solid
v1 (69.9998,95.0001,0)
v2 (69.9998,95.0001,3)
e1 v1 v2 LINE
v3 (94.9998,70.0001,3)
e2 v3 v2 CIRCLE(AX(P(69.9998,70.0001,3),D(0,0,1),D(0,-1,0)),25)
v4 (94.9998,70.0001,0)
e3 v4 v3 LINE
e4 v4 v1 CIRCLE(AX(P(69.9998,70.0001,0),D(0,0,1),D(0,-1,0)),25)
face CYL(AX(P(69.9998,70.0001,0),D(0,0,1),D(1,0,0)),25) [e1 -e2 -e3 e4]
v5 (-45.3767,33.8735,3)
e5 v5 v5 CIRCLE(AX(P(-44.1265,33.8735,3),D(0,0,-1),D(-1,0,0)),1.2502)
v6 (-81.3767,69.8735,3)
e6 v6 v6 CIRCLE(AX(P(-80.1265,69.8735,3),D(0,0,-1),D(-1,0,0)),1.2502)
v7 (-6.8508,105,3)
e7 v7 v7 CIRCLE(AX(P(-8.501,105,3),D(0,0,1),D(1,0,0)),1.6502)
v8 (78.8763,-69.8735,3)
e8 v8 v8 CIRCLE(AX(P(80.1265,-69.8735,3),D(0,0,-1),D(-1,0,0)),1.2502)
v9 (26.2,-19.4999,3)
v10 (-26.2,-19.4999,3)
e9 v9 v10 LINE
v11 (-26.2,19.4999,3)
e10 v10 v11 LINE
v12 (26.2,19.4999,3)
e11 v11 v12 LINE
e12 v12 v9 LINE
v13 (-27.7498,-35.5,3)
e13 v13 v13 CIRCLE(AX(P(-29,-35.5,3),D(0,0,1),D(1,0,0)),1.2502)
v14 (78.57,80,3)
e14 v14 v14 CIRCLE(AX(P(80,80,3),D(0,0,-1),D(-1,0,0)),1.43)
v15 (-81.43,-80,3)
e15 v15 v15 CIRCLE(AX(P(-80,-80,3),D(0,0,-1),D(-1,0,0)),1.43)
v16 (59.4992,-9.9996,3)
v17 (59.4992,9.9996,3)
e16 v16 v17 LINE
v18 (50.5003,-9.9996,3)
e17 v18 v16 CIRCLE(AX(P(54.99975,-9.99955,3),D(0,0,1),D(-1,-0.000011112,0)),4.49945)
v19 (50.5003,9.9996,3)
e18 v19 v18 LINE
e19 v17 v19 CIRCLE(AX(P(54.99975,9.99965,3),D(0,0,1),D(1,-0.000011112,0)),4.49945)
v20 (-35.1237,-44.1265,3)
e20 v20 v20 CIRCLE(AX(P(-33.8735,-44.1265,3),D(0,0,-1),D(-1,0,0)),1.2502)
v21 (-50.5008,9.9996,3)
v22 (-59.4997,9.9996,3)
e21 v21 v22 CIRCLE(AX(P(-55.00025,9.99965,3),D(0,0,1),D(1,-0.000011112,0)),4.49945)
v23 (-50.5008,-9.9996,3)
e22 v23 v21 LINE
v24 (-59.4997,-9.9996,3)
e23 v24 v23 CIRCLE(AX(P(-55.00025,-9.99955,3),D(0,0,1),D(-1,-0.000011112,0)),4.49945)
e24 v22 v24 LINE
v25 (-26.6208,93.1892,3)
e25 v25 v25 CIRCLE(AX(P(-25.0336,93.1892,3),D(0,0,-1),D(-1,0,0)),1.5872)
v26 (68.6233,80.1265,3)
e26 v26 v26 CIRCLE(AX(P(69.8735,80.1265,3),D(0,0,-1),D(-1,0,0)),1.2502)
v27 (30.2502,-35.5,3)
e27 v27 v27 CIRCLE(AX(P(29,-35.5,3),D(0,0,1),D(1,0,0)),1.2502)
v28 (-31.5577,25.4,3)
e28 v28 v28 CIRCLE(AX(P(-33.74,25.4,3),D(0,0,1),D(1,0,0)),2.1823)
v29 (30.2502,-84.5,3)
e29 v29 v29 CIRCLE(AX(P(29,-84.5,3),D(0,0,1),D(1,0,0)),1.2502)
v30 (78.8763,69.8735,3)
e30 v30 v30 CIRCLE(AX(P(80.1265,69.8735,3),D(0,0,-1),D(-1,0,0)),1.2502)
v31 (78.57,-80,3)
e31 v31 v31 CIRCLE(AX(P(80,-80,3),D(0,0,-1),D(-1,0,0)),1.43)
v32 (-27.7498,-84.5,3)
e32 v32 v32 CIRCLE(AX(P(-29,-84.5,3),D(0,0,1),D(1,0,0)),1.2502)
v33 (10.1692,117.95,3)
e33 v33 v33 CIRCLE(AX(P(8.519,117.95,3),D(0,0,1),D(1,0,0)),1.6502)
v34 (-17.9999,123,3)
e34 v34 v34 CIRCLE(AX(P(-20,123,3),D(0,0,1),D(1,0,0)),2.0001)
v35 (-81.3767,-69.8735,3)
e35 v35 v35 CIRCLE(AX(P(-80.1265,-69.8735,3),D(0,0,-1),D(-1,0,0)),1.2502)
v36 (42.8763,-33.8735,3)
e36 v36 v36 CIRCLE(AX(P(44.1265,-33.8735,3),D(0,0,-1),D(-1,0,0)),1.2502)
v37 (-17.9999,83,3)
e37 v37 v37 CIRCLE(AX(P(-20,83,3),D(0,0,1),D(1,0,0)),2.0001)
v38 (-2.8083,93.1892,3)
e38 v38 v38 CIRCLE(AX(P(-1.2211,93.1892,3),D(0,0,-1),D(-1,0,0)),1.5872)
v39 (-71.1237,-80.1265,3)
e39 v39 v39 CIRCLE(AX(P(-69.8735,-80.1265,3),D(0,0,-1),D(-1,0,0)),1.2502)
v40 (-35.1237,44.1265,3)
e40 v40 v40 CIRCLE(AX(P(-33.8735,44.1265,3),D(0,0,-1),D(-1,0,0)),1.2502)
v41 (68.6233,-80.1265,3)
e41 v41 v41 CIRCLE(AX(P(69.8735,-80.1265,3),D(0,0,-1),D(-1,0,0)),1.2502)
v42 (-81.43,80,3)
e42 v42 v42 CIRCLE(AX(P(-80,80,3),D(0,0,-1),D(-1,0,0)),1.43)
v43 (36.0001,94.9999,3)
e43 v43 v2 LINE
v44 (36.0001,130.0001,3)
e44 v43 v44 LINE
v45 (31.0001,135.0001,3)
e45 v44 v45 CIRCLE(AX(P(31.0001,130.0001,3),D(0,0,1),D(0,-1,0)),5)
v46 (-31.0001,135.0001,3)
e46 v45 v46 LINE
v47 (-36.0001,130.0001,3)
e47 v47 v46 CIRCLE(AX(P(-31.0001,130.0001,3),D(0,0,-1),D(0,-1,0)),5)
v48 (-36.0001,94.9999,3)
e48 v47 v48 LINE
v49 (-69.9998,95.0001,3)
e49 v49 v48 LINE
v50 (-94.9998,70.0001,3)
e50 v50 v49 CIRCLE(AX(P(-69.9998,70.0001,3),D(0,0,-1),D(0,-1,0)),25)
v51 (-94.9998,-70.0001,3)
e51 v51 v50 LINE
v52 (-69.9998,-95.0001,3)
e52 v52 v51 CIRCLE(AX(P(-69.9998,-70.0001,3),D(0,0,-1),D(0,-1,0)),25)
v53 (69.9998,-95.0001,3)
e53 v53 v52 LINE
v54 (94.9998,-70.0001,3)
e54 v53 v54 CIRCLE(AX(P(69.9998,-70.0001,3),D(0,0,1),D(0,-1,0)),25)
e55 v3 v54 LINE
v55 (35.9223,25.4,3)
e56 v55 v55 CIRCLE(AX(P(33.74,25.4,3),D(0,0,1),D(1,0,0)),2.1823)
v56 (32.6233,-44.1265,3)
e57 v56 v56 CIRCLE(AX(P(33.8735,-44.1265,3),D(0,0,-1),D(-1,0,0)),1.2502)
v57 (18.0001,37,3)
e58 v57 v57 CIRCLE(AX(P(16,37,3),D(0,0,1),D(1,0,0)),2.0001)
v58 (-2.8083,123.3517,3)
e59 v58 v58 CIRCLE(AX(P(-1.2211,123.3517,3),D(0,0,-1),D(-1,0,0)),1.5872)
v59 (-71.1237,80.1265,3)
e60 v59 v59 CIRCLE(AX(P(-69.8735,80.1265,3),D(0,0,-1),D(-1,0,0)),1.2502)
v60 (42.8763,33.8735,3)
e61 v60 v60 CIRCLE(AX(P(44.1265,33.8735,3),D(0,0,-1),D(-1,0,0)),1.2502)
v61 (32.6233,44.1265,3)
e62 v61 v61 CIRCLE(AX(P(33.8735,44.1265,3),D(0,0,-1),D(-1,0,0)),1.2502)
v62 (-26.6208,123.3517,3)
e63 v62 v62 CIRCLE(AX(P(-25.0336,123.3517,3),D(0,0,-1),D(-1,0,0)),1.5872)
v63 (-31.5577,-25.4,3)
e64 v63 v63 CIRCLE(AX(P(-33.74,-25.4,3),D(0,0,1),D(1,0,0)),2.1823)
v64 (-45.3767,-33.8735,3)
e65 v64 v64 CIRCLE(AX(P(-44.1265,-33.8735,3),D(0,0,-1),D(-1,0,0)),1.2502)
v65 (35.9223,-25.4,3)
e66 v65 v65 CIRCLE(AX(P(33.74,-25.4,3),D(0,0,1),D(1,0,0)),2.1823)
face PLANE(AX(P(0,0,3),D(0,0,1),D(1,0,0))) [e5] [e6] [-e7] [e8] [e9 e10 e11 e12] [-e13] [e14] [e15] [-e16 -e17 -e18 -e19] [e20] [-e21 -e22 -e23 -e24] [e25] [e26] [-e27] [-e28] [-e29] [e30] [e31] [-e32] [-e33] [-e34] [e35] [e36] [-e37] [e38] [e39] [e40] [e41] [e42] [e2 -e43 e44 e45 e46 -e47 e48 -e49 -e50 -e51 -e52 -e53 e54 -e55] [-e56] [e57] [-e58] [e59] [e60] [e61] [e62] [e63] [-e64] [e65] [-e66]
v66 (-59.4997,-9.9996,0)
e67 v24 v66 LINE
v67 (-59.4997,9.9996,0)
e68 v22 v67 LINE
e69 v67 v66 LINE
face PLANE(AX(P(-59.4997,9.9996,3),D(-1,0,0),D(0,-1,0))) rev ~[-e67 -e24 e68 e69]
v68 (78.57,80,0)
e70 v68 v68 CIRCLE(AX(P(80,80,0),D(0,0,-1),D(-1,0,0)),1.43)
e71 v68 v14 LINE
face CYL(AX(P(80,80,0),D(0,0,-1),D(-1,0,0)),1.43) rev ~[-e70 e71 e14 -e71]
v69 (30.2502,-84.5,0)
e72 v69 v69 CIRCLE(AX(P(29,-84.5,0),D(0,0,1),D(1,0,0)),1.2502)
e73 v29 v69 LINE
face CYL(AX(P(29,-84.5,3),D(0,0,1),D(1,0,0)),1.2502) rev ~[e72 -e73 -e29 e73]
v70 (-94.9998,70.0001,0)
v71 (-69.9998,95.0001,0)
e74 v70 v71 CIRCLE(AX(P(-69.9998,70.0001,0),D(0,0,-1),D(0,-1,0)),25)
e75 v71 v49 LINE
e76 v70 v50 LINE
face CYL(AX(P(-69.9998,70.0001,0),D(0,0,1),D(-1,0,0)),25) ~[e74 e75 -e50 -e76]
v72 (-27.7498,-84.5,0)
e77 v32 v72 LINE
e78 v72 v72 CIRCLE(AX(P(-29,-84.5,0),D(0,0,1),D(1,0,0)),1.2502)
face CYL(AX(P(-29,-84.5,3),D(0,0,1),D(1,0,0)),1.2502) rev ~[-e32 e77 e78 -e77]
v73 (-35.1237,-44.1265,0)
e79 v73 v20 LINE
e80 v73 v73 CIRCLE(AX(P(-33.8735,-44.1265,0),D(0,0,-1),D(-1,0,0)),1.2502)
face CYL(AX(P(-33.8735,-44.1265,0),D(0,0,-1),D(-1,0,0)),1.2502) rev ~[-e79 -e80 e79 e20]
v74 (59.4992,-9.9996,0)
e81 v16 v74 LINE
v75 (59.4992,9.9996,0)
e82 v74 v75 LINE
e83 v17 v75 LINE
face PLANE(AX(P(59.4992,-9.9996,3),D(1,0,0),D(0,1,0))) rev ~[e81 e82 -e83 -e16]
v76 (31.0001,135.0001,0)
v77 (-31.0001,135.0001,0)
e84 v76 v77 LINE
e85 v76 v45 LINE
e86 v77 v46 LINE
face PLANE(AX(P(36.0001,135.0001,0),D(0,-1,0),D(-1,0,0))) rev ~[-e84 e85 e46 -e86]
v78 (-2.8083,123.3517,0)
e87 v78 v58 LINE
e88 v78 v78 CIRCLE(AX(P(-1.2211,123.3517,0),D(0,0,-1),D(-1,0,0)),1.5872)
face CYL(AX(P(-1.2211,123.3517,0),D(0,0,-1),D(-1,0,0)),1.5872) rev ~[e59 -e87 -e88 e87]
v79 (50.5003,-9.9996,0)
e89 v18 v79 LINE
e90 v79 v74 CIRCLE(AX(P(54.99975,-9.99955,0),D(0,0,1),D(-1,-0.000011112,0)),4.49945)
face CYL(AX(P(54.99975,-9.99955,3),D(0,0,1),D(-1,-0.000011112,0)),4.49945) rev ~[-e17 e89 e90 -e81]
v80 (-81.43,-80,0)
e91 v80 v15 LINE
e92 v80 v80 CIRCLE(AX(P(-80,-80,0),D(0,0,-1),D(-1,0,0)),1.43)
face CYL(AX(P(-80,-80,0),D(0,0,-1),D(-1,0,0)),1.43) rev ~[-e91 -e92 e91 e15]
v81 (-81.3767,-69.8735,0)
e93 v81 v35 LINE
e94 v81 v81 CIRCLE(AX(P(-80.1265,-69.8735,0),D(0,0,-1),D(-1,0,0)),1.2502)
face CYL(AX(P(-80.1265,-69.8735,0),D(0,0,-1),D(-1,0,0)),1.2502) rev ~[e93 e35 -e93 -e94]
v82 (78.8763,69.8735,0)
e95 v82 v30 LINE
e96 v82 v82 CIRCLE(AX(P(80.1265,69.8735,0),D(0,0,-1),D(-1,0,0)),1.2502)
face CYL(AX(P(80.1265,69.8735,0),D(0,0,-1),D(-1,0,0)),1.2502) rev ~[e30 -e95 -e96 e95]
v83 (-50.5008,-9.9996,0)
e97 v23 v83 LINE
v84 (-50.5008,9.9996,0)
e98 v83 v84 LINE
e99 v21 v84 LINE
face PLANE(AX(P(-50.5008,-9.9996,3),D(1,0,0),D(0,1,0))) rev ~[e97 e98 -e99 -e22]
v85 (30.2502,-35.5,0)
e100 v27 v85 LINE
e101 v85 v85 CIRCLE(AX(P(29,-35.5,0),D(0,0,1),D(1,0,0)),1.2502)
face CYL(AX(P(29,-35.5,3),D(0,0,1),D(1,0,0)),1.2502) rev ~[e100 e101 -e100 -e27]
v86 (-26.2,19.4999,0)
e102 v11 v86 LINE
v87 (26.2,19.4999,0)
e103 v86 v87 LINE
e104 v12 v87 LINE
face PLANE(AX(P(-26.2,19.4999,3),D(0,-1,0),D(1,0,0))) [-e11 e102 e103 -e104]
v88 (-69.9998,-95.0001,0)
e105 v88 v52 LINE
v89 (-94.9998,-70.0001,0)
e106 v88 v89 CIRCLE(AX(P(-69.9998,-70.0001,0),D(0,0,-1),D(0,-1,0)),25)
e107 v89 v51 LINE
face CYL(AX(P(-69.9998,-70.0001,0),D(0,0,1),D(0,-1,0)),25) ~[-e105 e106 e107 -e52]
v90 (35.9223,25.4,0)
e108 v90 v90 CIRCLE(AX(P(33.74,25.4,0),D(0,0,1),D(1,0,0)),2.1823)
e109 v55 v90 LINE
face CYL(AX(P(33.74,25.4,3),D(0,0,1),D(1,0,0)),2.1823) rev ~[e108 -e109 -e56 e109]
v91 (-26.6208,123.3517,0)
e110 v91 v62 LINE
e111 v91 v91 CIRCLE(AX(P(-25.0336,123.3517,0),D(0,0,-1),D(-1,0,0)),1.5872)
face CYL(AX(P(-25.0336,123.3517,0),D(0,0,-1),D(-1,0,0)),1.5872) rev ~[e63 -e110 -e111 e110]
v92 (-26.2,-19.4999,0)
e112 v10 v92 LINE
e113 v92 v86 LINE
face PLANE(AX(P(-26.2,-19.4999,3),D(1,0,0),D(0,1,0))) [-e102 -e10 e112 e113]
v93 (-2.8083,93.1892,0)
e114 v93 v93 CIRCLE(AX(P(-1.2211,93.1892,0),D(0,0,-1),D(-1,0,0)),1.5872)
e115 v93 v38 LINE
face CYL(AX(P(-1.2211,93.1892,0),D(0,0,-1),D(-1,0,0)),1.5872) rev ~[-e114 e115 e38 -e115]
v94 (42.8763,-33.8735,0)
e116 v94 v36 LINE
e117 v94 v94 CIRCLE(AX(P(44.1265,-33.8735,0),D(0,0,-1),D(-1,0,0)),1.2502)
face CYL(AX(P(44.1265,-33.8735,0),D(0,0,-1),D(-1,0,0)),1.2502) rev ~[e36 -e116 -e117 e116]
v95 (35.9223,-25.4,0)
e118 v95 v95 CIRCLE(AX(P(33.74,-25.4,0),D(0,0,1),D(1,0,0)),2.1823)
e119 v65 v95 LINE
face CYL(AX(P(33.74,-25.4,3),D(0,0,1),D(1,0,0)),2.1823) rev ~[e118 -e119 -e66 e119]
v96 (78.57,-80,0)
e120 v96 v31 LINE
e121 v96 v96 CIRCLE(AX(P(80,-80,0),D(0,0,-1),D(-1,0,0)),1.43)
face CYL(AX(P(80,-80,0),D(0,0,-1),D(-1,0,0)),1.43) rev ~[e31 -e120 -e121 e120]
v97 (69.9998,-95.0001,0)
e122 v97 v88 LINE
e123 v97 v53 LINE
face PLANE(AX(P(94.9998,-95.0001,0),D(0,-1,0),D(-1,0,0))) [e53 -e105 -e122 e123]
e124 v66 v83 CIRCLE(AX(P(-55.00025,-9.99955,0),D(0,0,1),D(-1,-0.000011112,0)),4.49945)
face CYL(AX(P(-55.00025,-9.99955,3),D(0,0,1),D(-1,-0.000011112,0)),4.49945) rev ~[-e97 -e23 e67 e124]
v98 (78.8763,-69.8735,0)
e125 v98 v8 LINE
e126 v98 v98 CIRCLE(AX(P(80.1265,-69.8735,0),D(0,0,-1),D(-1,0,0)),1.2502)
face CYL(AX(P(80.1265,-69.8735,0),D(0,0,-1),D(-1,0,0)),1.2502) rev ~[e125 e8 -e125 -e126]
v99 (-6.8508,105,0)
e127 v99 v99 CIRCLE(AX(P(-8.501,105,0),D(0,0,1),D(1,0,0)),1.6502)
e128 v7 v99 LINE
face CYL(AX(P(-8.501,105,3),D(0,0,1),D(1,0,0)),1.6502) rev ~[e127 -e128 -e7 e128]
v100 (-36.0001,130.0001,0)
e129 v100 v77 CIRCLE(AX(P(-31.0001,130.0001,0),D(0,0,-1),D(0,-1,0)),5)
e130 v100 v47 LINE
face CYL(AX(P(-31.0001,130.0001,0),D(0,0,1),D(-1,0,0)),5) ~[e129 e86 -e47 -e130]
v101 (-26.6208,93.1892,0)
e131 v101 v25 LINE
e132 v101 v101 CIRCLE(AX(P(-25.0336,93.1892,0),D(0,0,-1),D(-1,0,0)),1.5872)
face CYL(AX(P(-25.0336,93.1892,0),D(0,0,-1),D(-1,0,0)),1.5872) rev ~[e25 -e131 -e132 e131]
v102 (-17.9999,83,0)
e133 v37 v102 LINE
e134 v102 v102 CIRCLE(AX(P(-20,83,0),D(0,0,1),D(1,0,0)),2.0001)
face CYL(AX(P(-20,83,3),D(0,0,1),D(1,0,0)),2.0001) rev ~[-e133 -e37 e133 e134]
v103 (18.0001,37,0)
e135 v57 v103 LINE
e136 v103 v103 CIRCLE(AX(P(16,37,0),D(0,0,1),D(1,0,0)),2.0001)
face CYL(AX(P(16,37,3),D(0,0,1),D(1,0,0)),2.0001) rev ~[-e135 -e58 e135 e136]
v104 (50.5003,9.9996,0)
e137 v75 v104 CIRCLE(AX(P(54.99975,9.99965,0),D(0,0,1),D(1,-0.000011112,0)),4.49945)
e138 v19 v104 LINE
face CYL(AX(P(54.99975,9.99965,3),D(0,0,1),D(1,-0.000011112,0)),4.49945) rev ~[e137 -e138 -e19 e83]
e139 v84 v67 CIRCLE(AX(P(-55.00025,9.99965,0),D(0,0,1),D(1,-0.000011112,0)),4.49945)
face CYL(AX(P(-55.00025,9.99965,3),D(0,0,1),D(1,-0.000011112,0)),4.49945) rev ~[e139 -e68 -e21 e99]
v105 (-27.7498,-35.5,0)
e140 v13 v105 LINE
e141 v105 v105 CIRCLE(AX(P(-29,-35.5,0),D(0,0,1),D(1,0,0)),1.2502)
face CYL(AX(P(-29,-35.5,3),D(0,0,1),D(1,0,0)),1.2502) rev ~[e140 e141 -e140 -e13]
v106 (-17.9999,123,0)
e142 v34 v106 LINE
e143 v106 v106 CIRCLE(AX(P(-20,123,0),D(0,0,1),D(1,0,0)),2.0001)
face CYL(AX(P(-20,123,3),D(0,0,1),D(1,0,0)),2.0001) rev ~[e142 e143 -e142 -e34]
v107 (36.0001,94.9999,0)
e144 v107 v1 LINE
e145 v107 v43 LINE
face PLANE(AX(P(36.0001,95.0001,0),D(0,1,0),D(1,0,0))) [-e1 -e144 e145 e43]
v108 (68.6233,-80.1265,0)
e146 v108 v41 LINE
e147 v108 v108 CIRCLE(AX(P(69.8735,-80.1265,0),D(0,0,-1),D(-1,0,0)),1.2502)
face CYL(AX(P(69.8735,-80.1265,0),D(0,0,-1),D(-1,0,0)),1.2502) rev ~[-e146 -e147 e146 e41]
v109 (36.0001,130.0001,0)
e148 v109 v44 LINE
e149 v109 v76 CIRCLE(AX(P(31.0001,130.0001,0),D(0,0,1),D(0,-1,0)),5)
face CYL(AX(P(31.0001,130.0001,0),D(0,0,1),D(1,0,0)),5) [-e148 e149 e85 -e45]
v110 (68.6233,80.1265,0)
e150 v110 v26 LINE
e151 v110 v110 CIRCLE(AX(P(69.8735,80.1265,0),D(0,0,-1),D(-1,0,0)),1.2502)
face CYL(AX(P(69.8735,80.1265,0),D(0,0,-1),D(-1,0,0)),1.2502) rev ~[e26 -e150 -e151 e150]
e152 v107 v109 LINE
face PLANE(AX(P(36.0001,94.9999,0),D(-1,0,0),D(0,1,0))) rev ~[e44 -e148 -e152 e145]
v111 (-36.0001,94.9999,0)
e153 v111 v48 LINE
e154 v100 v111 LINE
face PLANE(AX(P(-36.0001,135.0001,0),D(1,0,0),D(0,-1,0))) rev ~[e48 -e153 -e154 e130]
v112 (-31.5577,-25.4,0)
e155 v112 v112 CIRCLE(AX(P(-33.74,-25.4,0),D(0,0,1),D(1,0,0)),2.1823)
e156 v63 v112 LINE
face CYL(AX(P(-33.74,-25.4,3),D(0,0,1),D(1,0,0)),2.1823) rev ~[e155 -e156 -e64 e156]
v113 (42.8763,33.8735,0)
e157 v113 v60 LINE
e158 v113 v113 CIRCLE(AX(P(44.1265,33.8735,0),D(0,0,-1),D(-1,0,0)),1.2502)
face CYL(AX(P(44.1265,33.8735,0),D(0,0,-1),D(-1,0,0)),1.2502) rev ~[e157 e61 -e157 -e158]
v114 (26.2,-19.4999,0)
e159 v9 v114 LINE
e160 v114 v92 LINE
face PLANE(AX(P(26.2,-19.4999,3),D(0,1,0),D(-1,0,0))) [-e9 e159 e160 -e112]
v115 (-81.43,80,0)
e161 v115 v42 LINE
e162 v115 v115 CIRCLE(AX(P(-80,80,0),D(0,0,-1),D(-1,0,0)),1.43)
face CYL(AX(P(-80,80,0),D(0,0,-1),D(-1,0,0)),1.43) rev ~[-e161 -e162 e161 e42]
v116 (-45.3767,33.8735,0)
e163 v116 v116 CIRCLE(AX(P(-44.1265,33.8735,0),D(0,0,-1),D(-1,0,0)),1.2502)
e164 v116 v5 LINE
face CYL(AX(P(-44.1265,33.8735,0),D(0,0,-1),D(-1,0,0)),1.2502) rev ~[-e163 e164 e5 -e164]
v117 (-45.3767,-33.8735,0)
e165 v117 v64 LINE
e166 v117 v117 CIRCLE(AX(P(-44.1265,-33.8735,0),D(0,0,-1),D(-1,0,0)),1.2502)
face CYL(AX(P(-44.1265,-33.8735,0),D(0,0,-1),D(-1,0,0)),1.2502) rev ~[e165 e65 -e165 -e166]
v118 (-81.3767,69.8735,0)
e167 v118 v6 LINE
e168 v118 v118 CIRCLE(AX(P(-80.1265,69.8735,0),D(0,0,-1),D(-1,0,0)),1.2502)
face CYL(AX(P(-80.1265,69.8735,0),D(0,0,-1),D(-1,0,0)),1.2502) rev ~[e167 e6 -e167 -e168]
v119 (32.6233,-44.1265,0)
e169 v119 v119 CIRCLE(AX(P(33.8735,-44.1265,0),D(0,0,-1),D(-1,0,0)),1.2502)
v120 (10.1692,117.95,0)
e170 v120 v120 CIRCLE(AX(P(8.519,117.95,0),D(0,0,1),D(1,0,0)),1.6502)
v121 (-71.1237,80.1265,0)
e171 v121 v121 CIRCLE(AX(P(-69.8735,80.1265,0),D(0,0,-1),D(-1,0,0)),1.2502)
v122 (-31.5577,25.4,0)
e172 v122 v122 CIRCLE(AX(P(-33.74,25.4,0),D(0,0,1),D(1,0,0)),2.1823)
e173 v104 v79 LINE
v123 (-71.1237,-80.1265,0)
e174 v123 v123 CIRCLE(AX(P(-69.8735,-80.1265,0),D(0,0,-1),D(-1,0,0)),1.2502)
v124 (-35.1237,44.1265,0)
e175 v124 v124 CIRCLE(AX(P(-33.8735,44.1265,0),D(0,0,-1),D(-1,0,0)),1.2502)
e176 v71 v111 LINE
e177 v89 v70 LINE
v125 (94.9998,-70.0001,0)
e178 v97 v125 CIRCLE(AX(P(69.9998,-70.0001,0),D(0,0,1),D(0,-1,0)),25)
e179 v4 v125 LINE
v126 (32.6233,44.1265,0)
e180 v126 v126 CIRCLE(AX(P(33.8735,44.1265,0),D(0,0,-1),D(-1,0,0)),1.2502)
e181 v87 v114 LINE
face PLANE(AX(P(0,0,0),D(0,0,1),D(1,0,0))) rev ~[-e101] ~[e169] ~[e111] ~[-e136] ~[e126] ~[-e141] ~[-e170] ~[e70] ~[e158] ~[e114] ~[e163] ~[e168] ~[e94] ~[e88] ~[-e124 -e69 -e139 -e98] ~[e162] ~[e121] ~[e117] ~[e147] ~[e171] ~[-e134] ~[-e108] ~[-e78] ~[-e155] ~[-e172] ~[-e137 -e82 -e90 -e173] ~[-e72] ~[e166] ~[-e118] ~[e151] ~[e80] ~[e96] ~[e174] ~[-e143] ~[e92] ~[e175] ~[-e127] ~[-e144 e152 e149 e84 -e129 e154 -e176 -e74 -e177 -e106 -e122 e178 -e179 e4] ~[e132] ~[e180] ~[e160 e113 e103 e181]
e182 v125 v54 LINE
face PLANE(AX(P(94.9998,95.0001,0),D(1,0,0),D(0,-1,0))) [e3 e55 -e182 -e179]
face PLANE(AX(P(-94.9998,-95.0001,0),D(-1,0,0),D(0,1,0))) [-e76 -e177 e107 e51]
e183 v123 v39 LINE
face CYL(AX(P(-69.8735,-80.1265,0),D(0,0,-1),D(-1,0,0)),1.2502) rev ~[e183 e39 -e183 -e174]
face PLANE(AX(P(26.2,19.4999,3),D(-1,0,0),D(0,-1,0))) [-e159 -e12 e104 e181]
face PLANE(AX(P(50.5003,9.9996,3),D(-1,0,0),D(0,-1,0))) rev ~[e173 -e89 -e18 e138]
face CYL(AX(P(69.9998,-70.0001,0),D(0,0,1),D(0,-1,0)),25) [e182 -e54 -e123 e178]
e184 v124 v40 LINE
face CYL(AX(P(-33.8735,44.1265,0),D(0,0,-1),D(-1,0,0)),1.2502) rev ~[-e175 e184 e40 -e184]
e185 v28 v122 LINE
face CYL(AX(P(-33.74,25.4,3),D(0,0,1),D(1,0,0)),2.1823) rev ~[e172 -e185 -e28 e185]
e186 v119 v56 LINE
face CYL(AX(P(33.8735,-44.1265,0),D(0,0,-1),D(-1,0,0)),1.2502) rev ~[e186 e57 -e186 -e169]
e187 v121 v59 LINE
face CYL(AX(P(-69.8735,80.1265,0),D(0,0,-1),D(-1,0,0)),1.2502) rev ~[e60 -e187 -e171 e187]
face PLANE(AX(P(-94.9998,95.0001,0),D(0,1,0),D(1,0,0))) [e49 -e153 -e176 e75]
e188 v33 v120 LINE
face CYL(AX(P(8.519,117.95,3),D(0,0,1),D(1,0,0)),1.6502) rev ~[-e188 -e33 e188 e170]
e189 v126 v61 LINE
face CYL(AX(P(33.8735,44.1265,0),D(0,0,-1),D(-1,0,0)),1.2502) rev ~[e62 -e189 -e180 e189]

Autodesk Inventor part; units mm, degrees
ref_plane "YZ Plane" through (0, 0, 0) normal (1, 0, 0) x (0, 1, 0)
ref_plane "XZ Plane" through (0, 0, 0) normal (0, 1, 0) x (-1, 0, 0)
ref_plane "XY Plane" through (0, 0, 0) normal (0, 0, 1) x (1, 0, 0)
sketch "Sketch1" plane through (0, 0, 0) normal (0, 0, 1) x (1, 0, 0)
  point P0 (0, 0)
sketch "Sketch2" plane through (0, 0, 0) normal (0, 0, 1) x (1, 0, 0)
  line L0 (94.9998, -95.0001) -> (-94.9998, -95.0001)
  line L1 (-94.9998, -95.0001) -> (-94.9998, 95.0001)
  line L2 (-94.9998, 95.0001) -> (94.9998, 95.0001)
  line L3 (94.9998, 95.0001) -> (94.9998, -95.0001)
  line L4 (94.9998, -95.0001) -> (-94.9998, 95.0001) construction
  line L5 (-94.9998, -95.0001) -> (94.9998, 95.0001) construction
  line L6 (-36.0001, 94.9999) -> (36.0001, 94.9999)
  line L7 (36.0001, 94.9999) -> (36.0001, 135.0001)
  line L8 (36.0001, 135.0001) -> (-36.0001, 135.0001)
  line L9 (-36.0001, 135.0001) -> (-36.0001, 94.9999)
  line L10 (-36.0001, 94.9999) -> (36.0001, 135.0001) construction
  line L11 (36.0001, 94.9999) -> (-36.0001, 135.0001) construction
  point P0 (0, 115)
  point P1 (-36.0001, 95.0001)
  point P2 (36.0001, 95.0001)
extrude "Extrusion1" add sketch "Sketch2" along normal blind 3
fillet "Fillet5" radius 25 4 edges at (-94.9998, 95.0001, 1.5) (94.9998, 95.0001, 1.5) (-94.9998, -95.0001, 1.5) (94.9998, -95.0001, 1.5)
fillet "Fillet6" radius 5 2 edges at (-36.0001, 135.0001, 1.5) (36.0001, 135.0001, 1.5)
sketch "Large Hammond mount holes" plane through (0, 0, 3) normal (0, 0, 1) x (1, 0, 0)
  circle A0 centre (16, 37) radius 2.0001
  circle A1 centre (-20, 123) radius 2.0001
  circle A2 centre (-20, 83) radius 2.0001
  circle A3 centre (16, 37) radius 2.0001
  circle A4 centre (-20, 123) radius 2.0001
  circle A5 centre (-20, 83) radius 2.0001
sketch "PX4FLOW mount holes" plane through (0, 0, 0) normal (0, 0, -1) x (-1, 0, 0)
  circle A0 centre (25.0336, 123.3517) radius 1.5872
  circle A1 centre (1.2211, 123.3517) radius 1.5872
  circle A2 centre (1.2211, 123.3517) radius 1.5872
  circle A3 centre (1.2211, 93.1892) radius 1.5872
  circle A4 centre (25.0336, 93.1892) radius 1.5872
sketch "Imperial standoffs" plane through (0, 0, 0) normal (0, 0, -1) x (-1, 0, 0)
  circle A0 centre (80, 80) radius 1.43
  circle A1 centre (-80, 80) radius 1.43
  circle A2 centre (-80, -80) radius 1.43
  circle A3 centre (80, -80) radius 1.43
extrude "Extrusion5" cut sketch "PX4FLOW mount holes" against normal blind 10
extrude "Extrusion7" cut sketch "Imperial standoffs" against normal blind 10
sketch "Dual pol balun cutout" plane through (0, 0, 3) normal (0, 0, 1) x (1, 0, 0)
  line L0 (26.2, -19.4999) -> (-26.2, -19.4999)
  line L1 (-26.2, -19.4999) -> (-26.2, 19.4999)
  line L2 (-26.2, 19.4999) -> (26.2, 19.4999)
  line L3 (26.2, 19.4999) -> (26.2, -19.4999)
  line L4 (26.2, -19.4999) -> (-26.2, 19.4999) construction
  line L5 (-26.2, -19.4999) -> (26.2, 19.4999) construction
  point P0 (0, 0)
extrude "Extrusion8" cut sketch "Dual pol balun cutout" against normal blind 10
sketch "SONAR_holes" plane through (0, 0, 3) normal (0, 0, 1) x (1, 0, 0)
  circle A0 centre (-8.501, 105) radius 1.6502
  circle A1 centre (8.519, 117.95) radius 1.6502
extrude "Extrusion9" cut sketch "SONAR_holes" against normal blind 10
sketch "SONAR cutouts" plane through (0, 0, 3) normal (0, 0, 1) x (1, 0, 0)
  line L0 (-55.0003, -9.9996) -> (-55.0003, 9.9996) construction
  line L1 (-50.5008, -9.9996) -> (-50.5008, 9.9996)
  line L2 (-59.4997, 9.9996) -> (-59.4997, -9.9996)
  arc A0 (-59.4997, -9.9996) -> (-50.5008, -9.9996) centre (-55.0003, -9.9996) ccw
  arc A1 (-50.5008, 9.9996) -> (-59.4997, 9.9996) centre (-55.0003, 9.9996) ccw
  line L3 (54.9997, -9.9996) -> (54.9997, 9.9996) construction
  line L4 (59.4992, -9.9996) -> (59.4992, 9.9996)
  line L5 (50.5003, 9.9996) -> (50.5003, -9.9996)
  arc A2 (50.5003, -9.9996) -> (59.4992, -9.9996) centre (54.9997, -9.9996) ccw
  arc A3 (59.4992, 9.9996) -> (50.5003, 9.9996) centre (54.9997, 9.9996) ccw
  point P0 (0, 0)
  point P1 (-55.0003, 0)
  point P2 (54.9997, 0)
extrude "Extrusion10" cut sketch "SONAR cutouts" against normal blind 10
sketch "Guard rails mount" plane through (0, 0, 0) normal (0, 0, -1) x (-1, 0, 0)
  circle A0 centre (-57.8735, 68.1265) radius 1.2499
  circle A1 centre (-68.1265, 57.8735) radius 1.2499
  circle A2 centre (57.8735, 68.1265) radius 1.2501
  circle A3 centre (68.1265, 57.8735) radius 1.2501
  circle A4 centre (-68.1265, -57.8735) radius 1.2501
  circle A5 centre (-57.8735, -68.1265) radius 1.2501
  circle A6 centre (57.8735, -68.1265) radius 1.2501
  circle A7 centre (68.1265, -57.8735) radius 1.2501
  circle A8 centre (-29.8735, 40.1265) radius 1.25
  circle A9 centre (-40.1265, 29.8735) radius 1.25
  circle A10 centre (40.1265, -29.8735) radius 1.25
  circle A11 centre (29.8735, -40.1265) radius 1.25
  circle A12 centre (29.8735, 40.1265) radius 1.25
  circle A13 centre (40.1265, 29.8735) radius 1.25
  circle A14 centre (-40.1265, -29.8735) radius 1.25
  circle A15 centre (-29.8735, -40.1265) radius 1.25
extrude "Extrusion12" cut sketch "Large Hammond mount holes" against normal blind 10
sketch "RPi mount holes" plane through (0, 0, 3) normal (0, 0, 1) x (1, 0, 0)
  circle A0 centre (29, -35.5) radius 1.2502
  circle A1 centre (29, -84.5) radius 1.2502
  circle A2 centre (-29, -35.5) radius 1.2502
  circle A3 centre (-29, -84.5) radius 1.2502
extrude "Extrusion14" cut sketch "RPi mount holes" against normal blind 10
sketch "balun_support_holes" plane through (0, 0, 3) normal (0, 0, 1) x (1, 0, 0)
  circle A0 centre (0, 0) radius 2.1823
  circle A1 centre (33.74, 25.4) radius 2.1823
  circle A2 centre (33.74, -25.4) radius 2.1823
  circle A3 centre (-33.74, 25.4) radius 2.1823
  circle A4 centre (-33.74, -25.4) radius 2.1823
extrude "Extrusion15" cut sketch "balun_support_holes" against normal blind 10 contours A1 | A2 | A3 | A4
sketch "Sketch20" plane through (0, 0, 0) normal (0, 0, -1) x (-1, 0, 0)
  circle A0 centre (-5.1265, 5.1265) radius 1.2502
  circle A1 centre (5.1265, -5.1265) radius 1.2502
  circle A2 centre (44.1265, -33.8735) radius 1.2502
  circle A3 centre (33.8735, -44.1265) radius 1.2502
  circle A4 centre (80.1265, -69.8735) radius 1.2502
  circle A5 centre (69.8735, -80.1265) radius 1.2502
  circle A6 centre (-33.8735, 44.1265) radius 1.2502
  circle A7 centre (-44.1265, 33.8735) radius 1.2502
  circle A8 centre (-69.8735, 80.1265) radius 1.2502
  circle A9 centre (-80.1265, 69.8735) radius 1.2502
  circle A10 centre (33.8735, 44.1265) radius 1.2502
  circle A11 centre (44.1265, 33.8735) radius 1.2502
  circle A12 centre (69.8735, 80.1265) radius 1.2502
  circle A13 centre (80.1265, 69.8735) radius 1.2502
  circle A14 centre (-44.1265, -33.8735) radius 1.2502
  circle A15 centre (-33.8735, -44.1265) radius 1.2502
  circle A16 centre (-80.1265, -69.8735) radius 1.2502
  circle A17 centre (-69.8735, -80.1265) radius 1.2502
extrude "Extrusion17" cut sketch "Sketch20" against normal blind 10 contours A2 | A3 | A4 | A5 | A6 | A7 | A8 | A9 | A10 | A11 | A12 | A13 | A14 | A15 | A16 | A17
properties part number "payload_bay_square_dual_pol_balun_v2" material "CFRP"
